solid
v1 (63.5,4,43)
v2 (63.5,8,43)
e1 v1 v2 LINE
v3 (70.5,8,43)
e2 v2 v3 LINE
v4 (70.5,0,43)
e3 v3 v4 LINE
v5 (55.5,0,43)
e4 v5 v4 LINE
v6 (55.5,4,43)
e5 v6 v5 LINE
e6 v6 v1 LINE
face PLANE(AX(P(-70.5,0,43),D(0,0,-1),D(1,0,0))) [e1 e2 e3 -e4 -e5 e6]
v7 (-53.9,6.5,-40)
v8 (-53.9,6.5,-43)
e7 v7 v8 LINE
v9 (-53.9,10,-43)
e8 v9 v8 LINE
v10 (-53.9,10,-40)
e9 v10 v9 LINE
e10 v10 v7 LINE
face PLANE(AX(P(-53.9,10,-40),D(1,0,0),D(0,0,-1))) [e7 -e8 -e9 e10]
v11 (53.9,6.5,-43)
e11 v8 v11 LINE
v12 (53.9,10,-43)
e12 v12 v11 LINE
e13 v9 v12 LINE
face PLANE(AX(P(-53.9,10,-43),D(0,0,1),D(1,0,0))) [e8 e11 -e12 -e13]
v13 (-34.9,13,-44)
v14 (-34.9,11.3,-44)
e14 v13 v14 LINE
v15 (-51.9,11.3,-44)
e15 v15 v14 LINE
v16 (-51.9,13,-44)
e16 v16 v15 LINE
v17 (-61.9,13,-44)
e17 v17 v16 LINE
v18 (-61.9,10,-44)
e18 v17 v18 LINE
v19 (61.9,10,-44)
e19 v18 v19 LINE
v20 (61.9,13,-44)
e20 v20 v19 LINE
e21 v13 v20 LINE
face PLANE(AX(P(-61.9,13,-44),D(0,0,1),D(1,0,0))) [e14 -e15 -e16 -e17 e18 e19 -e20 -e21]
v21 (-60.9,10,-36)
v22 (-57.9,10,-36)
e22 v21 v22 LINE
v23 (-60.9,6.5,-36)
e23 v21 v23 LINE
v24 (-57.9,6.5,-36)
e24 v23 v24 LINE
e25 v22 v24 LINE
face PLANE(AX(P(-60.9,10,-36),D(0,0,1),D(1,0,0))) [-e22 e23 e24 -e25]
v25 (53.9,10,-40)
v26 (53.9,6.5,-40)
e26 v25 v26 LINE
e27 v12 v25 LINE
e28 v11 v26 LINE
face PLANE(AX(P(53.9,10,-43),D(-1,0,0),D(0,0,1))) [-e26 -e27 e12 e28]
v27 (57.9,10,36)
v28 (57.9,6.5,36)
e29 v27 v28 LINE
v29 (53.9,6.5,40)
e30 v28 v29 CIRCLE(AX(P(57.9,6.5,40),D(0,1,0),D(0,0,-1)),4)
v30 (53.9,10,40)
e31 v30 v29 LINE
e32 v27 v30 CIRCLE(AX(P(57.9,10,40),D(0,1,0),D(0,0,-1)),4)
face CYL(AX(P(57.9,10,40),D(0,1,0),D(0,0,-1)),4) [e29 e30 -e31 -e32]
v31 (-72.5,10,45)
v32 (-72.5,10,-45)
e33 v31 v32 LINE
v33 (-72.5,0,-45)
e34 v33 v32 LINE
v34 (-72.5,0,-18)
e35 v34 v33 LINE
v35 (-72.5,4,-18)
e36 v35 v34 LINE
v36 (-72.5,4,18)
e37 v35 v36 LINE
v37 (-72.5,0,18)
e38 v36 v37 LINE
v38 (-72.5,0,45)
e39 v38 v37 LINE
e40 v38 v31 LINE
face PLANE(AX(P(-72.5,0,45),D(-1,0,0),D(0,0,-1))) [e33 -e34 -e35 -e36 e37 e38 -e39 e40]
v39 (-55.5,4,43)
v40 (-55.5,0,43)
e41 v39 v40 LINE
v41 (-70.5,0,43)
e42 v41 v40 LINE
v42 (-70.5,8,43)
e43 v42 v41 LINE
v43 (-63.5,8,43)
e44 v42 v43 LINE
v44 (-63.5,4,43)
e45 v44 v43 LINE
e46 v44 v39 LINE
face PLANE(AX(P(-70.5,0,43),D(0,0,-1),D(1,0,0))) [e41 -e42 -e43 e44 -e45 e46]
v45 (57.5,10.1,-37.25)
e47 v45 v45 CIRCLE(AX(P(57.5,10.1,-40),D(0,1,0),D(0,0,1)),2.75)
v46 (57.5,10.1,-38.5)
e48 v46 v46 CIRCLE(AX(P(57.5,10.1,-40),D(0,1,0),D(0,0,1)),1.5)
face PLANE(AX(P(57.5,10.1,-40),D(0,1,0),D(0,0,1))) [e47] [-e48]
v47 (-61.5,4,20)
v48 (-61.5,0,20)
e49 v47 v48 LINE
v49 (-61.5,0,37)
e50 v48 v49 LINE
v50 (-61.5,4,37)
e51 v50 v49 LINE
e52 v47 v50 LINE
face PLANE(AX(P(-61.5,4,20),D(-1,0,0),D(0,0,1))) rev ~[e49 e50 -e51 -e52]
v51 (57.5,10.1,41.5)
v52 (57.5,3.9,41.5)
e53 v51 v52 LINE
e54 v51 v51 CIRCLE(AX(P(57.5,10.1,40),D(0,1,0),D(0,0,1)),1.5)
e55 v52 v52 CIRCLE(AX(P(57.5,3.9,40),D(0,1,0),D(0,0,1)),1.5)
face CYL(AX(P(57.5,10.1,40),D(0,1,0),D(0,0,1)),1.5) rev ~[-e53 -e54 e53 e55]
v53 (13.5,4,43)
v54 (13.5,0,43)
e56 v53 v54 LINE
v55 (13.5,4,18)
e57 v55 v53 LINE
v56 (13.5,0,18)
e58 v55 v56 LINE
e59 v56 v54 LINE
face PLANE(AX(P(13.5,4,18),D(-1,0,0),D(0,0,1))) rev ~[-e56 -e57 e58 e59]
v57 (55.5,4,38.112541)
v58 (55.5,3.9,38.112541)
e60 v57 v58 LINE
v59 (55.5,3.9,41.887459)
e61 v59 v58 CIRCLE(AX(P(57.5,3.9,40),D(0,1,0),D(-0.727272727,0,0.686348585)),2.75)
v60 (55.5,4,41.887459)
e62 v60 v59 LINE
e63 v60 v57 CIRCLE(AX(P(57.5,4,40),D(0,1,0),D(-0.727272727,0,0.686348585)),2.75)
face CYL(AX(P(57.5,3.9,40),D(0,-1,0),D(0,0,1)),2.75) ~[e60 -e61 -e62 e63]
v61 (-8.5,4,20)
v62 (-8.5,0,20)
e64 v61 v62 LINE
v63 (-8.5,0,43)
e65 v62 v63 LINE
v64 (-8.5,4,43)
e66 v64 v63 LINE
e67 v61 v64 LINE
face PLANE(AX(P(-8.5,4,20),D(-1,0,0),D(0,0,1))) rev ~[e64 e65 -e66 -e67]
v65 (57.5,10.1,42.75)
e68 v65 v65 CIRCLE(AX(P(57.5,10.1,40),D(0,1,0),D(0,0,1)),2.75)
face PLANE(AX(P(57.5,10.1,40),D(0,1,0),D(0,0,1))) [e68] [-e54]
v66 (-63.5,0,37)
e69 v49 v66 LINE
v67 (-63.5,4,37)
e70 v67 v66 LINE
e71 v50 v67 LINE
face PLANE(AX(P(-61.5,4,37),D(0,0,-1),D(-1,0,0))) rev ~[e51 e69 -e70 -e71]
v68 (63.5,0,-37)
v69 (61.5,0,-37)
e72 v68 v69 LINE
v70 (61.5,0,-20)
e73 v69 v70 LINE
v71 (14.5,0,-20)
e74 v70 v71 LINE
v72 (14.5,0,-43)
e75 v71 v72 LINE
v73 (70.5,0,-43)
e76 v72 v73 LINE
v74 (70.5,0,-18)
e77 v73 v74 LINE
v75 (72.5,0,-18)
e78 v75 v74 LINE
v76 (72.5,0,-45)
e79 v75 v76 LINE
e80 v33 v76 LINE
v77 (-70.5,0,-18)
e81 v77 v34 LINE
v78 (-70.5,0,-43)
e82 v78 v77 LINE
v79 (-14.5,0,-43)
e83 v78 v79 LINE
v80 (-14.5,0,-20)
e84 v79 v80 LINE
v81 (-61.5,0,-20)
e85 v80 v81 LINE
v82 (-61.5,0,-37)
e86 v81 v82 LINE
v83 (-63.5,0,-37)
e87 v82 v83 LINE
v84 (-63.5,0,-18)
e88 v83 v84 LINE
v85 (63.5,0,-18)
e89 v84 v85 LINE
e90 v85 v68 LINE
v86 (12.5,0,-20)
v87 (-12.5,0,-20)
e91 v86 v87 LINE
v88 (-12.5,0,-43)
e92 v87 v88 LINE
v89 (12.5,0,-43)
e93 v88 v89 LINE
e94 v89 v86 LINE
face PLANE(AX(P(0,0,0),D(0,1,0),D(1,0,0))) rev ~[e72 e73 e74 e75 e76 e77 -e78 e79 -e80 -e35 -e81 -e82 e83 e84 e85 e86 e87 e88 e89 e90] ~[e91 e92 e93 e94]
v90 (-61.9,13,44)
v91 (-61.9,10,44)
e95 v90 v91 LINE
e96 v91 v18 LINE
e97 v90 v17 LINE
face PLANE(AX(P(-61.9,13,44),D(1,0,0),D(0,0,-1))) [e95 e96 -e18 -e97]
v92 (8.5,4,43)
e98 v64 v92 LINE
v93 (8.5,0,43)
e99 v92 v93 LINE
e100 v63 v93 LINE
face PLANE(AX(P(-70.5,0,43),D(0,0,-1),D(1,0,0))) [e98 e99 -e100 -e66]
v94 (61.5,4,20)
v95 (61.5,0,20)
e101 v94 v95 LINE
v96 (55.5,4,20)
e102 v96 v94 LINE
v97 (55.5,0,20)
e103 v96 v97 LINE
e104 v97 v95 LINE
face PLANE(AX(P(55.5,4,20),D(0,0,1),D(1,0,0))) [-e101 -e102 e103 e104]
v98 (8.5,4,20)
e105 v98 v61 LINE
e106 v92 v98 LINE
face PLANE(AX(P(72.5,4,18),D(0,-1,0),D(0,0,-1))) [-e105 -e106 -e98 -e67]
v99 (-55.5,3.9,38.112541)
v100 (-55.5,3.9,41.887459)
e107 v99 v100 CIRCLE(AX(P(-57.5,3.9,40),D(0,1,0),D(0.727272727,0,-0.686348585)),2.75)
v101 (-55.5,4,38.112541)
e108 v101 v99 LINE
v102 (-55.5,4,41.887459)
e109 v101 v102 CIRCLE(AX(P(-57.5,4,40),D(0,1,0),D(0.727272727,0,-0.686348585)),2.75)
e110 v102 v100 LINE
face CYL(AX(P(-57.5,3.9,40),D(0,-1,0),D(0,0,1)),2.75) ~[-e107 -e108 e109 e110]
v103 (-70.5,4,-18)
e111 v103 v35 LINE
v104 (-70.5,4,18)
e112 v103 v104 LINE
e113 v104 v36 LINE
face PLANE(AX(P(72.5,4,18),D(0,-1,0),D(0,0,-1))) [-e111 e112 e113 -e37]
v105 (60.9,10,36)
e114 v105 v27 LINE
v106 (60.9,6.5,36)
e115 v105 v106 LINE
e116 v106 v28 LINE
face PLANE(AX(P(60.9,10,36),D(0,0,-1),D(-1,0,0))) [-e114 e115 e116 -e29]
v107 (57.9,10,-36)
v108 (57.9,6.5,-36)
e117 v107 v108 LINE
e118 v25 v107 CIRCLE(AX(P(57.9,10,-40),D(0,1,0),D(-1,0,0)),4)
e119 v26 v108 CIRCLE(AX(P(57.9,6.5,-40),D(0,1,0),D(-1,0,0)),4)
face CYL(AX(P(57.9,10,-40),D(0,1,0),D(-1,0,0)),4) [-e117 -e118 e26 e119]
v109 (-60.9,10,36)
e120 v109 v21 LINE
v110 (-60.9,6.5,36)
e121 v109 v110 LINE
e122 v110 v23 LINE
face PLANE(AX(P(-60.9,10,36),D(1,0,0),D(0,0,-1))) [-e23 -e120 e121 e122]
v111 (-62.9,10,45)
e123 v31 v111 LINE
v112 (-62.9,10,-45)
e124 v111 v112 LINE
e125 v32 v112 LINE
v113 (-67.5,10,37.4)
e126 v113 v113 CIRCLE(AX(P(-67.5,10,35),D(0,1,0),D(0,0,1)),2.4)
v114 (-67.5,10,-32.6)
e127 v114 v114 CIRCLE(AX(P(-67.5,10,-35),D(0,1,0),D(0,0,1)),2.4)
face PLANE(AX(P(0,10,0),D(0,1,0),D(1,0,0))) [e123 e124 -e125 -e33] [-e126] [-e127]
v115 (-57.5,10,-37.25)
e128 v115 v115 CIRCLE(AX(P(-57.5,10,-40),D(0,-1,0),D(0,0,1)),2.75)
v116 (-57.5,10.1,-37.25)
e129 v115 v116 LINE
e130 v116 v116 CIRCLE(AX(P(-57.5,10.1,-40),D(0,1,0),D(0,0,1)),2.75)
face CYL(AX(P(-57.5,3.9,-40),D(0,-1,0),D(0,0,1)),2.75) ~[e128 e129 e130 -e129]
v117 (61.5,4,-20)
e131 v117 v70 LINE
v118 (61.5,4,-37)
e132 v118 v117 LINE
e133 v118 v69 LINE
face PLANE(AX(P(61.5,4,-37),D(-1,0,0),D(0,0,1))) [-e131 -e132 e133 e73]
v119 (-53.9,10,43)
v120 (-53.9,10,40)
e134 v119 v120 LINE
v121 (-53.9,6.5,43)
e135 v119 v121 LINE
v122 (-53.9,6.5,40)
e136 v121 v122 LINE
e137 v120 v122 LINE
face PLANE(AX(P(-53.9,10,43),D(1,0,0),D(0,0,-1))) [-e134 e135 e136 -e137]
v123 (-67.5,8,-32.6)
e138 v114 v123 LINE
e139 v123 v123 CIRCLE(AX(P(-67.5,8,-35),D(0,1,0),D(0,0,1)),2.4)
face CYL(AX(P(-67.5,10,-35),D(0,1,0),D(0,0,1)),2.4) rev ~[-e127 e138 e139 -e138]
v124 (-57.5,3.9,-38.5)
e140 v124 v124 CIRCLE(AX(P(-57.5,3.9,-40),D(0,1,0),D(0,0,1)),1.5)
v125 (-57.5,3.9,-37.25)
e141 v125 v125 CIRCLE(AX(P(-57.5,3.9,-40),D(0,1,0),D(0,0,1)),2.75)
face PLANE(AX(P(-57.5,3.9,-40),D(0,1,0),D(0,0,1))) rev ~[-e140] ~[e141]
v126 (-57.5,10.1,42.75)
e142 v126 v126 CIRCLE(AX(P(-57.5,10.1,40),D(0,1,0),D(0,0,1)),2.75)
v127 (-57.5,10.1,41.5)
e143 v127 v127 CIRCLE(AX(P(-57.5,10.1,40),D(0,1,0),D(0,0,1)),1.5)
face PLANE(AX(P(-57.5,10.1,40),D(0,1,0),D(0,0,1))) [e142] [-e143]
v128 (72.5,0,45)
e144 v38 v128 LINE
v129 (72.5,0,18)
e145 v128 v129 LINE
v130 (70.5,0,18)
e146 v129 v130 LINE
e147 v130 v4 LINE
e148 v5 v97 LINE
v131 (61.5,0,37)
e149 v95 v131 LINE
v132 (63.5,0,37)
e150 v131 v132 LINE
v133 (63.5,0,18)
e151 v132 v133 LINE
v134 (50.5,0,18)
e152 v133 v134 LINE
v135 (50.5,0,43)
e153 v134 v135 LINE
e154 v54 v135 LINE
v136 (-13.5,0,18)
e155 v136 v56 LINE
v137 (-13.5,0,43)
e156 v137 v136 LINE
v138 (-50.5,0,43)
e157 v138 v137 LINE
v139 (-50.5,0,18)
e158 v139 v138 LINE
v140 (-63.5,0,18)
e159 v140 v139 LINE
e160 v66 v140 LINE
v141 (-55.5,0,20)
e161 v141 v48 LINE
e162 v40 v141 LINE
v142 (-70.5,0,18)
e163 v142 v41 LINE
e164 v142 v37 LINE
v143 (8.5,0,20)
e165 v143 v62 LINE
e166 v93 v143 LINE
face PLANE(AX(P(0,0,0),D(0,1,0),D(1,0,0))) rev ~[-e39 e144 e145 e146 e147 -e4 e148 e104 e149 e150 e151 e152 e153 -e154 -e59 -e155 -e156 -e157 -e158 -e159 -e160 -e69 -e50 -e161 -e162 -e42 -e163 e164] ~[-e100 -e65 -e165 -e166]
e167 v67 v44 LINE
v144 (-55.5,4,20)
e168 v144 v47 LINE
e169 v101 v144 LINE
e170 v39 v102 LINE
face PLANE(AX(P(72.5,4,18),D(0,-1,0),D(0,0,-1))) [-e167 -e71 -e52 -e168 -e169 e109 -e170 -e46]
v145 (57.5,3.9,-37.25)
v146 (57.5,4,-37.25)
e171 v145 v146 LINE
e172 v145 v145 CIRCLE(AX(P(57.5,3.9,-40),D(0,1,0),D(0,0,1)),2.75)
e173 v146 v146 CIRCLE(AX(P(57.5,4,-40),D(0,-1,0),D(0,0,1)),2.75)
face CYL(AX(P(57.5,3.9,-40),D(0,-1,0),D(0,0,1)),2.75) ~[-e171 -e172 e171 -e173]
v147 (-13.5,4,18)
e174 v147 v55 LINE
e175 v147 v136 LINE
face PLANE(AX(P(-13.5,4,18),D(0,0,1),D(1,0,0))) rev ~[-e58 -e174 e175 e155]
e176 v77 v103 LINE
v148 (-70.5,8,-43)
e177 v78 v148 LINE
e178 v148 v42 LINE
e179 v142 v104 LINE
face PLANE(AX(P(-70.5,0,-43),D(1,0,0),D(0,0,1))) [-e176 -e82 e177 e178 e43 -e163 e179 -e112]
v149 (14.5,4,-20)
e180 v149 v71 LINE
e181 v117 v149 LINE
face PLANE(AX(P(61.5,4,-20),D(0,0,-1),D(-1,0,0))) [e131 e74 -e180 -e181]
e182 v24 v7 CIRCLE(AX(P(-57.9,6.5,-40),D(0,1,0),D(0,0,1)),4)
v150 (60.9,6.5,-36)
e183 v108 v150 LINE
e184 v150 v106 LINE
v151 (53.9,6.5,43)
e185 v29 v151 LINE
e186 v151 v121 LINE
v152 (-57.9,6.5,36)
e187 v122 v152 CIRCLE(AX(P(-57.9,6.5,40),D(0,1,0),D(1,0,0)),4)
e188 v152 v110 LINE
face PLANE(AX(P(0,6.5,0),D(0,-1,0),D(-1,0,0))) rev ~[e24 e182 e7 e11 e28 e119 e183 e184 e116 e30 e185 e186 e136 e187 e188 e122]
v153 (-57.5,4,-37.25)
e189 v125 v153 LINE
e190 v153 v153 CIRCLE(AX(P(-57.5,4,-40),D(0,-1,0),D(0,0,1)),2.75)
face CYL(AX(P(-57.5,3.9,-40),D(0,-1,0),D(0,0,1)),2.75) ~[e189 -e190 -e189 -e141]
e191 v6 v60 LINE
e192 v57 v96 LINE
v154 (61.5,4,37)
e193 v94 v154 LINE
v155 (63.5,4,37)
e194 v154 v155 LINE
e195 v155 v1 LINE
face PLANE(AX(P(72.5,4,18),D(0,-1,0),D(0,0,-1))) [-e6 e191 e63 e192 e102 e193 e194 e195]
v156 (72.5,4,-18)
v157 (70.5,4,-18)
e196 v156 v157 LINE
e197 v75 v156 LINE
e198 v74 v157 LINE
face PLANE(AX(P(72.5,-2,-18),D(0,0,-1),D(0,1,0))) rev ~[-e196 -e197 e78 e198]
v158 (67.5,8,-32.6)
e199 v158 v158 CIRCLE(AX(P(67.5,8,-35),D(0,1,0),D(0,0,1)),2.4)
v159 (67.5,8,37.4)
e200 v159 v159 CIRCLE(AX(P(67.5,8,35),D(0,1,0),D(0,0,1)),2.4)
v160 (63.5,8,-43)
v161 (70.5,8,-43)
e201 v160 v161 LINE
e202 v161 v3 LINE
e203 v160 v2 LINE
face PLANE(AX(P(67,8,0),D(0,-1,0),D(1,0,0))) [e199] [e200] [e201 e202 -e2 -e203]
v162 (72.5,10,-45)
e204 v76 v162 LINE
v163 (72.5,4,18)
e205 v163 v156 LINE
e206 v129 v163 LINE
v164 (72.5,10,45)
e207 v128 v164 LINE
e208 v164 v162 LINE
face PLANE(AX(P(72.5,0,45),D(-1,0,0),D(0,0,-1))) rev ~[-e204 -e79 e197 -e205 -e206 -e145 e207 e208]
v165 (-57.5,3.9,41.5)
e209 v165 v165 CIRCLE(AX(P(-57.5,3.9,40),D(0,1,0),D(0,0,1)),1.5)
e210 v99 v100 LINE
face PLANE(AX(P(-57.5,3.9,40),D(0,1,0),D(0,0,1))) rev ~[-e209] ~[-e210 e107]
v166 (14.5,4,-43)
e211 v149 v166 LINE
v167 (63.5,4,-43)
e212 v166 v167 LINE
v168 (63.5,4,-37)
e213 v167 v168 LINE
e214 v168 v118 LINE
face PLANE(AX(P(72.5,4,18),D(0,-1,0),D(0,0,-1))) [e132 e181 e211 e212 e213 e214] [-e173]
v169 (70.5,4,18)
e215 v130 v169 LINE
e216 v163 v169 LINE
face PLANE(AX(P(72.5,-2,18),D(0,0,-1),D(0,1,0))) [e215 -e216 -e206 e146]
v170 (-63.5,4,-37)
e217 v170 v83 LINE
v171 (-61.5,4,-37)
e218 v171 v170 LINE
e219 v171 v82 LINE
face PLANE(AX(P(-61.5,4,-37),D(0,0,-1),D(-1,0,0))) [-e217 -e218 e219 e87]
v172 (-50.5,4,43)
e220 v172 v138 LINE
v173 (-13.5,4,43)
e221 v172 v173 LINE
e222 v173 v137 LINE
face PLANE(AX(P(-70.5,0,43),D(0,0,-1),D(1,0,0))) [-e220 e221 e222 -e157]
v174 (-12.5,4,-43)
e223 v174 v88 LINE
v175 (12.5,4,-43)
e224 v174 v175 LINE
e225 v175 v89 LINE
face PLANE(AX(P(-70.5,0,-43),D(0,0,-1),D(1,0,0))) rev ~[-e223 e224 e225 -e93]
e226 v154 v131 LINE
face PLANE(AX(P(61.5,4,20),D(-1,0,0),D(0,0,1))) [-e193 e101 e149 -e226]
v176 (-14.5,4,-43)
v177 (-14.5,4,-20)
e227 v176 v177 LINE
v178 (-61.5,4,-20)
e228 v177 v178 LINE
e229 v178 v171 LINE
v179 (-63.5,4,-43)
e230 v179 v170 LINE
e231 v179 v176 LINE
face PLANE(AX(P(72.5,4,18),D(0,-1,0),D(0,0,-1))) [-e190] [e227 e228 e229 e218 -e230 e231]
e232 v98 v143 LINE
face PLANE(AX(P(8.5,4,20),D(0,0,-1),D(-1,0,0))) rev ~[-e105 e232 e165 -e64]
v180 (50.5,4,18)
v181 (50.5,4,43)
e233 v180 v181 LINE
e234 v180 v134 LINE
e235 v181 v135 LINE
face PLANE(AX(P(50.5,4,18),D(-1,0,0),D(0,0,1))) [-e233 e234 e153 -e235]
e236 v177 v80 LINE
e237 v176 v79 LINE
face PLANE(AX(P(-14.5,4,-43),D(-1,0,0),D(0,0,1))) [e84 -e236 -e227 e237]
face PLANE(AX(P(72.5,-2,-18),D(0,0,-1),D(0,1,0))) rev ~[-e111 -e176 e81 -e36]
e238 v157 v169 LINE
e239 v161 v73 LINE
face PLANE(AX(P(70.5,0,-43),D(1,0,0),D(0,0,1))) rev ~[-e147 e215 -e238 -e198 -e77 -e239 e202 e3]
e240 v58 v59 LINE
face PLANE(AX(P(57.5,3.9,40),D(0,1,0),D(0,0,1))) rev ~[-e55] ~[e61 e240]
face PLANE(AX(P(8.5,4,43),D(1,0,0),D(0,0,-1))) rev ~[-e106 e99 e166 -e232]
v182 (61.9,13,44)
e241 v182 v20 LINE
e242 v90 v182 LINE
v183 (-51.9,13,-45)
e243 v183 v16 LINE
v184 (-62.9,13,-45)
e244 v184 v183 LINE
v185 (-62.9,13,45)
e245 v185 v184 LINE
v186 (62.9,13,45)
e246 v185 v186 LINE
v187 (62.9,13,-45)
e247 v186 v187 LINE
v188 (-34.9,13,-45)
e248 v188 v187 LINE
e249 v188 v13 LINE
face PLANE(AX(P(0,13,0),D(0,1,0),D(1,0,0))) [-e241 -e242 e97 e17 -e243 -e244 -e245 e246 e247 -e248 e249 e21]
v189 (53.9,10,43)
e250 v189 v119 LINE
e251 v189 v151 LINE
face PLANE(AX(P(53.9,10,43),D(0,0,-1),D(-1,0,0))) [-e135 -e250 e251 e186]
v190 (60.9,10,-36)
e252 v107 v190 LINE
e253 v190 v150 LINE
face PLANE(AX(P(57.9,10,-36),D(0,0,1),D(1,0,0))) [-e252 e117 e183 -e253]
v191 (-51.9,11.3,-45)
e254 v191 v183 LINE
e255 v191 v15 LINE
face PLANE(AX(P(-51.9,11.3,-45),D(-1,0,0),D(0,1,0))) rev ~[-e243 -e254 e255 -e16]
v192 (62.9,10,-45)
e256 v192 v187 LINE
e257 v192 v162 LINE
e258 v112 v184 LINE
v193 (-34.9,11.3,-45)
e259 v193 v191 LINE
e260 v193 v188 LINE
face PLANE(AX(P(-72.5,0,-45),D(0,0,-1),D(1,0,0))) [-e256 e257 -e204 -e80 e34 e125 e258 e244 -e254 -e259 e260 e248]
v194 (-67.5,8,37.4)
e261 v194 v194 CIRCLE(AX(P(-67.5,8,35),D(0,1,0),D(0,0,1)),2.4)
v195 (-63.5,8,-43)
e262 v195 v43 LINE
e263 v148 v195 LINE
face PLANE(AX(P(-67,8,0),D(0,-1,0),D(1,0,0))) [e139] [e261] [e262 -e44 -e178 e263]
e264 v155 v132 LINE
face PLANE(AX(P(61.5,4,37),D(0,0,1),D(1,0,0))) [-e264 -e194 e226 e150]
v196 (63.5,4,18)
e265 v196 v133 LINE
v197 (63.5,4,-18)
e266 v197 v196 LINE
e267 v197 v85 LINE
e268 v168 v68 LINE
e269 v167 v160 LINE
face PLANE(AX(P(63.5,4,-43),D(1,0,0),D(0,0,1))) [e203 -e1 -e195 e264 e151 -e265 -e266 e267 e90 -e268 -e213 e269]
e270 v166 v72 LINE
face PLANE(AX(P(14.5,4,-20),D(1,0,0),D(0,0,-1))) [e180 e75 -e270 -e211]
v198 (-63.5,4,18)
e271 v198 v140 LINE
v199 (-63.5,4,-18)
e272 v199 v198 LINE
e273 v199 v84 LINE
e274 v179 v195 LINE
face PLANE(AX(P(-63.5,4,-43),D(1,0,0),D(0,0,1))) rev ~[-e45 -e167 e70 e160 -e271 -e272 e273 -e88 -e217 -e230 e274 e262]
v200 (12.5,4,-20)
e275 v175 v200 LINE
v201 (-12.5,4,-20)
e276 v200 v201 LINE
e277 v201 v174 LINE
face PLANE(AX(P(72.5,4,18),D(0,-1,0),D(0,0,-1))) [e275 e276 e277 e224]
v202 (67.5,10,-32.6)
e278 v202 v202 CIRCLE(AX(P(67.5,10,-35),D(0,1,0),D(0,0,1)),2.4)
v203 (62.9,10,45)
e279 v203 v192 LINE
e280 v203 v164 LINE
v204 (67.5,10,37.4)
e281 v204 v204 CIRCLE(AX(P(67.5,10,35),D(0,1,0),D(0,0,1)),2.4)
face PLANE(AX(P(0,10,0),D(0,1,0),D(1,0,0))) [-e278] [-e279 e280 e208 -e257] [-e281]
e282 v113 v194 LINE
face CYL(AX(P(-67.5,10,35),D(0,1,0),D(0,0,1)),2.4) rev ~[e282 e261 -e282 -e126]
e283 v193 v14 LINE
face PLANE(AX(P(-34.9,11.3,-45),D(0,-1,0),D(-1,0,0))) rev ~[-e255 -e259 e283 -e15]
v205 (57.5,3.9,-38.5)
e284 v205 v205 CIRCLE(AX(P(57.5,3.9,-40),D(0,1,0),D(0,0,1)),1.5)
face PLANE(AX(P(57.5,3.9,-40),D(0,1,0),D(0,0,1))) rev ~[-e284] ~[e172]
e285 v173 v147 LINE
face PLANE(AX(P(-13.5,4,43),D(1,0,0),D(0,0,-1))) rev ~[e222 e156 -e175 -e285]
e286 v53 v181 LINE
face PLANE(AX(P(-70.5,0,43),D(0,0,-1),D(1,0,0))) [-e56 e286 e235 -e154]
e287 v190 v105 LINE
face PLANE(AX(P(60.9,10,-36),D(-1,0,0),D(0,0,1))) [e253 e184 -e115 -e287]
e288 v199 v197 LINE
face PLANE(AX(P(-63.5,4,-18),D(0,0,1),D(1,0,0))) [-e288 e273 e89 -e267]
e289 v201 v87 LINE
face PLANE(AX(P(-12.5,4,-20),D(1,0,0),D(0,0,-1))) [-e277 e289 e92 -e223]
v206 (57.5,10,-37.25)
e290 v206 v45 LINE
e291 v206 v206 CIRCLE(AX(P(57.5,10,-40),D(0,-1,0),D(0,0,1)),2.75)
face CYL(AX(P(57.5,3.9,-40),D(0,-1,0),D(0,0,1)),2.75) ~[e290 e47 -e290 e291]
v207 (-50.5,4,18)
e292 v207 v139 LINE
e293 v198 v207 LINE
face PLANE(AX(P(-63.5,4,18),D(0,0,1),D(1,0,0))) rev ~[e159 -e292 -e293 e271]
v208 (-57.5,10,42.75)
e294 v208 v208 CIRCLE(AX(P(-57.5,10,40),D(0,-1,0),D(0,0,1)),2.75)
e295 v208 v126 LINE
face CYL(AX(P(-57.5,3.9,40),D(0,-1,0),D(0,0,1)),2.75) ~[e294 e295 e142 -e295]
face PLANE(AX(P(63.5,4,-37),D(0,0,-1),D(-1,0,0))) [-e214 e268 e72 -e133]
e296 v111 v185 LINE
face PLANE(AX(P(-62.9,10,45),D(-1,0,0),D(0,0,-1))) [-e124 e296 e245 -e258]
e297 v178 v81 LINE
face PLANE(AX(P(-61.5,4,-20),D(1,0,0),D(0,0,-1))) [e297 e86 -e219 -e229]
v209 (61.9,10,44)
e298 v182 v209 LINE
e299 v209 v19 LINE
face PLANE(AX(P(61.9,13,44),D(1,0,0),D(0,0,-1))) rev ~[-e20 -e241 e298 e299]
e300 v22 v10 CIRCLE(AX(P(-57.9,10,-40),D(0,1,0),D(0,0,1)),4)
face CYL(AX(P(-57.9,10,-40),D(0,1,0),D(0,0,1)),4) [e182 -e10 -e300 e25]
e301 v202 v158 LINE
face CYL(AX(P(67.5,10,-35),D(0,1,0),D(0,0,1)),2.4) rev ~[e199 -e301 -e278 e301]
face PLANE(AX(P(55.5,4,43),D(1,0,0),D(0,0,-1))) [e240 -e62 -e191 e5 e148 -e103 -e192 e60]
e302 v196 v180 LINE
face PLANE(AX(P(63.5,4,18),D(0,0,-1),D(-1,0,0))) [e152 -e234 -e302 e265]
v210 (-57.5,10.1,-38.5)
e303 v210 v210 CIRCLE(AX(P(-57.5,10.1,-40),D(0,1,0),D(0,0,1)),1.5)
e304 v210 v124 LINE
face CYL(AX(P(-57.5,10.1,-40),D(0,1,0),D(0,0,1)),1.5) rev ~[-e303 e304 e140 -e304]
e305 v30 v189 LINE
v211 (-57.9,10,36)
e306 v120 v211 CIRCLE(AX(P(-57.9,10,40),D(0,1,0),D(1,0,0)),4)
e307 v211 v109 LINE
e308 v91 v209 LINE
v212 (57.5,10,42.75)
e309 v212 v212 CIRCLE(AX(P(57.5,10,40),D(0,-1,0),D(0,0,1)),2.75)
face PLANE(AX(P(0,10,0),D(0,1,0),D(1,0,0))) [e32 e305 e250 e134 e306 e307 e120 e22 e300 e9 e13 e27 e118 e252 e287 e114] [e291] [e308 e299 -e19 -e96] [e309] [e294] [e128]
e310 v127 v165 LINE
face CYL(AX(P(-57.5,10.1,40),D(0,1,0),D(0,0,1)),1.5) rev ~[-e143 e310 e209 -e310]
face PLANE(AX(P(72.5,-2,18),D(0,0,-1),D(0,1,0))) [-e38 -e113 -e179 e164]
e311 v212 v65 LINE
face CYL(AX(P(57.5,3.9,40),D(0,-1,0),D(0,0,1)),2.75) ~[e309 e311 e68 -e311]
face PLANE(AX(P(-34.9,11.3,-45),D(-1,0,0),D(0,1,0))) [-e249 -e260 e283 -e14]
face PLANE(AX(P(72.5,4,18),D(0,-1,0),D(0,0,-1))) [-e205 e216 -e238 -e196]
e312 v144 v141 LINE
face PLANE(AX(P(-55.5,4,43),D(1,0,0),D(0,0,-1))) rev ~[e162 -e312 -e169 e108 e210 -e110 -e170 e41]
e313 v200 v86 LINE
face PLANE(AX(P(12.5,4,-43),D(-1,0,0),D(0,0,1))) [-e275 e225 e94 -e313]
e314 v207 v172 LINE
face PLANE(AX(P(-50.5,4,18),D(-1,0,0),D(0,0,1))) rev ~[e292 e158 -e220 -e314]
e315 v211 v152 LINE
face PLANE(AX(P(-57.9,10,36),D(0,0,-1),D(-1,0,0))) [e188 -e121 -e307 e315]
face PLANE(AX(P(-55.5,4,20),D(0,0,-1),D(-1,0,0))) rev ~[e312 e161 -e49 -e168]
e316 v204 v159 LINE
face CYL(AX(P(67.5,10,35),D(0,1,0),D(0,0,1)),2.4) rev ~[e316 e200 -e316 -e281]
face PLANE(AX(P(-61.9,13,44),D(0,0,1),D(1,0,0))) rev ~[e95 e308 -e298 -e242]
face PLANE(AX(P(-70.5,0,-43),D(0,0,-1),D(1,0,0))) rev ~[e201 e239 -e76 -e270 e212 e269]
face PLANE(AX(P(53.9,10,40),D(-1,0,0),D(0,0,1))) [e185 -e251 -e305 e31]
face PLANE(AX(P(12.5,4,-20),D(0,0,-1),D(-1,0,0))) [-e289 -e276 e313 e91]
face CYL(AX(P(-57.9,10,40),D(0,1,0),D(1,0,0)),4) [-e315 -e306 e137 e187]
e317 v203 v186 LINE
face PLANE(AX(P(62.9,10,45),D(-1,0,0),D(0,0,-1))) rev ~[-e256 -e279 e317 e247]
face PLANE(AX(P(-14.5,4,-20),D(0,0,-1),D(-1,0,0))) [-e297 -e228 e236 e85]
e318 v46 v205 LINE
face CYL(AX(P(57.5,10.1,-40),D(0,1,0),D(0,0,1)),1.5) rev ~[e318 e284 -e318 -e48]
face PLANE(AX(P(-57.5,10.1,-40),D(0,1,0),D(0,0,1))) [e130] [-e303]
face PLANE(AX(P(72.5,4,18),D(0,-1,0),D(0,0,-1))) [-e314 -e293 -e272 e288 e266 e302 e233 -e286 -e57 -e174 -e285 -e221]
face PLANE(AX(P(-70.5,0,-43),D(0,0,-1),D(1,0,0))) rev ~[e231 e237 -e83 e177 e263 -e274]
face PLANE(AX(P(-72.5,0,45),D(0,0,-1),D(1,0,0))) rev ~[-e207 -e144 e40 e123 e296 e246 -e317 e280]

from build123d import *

# Parameters (mm, degrees)
SKETCH_1_W           = 145
SKETCH_1_H           = 90
EXTRUDE_1_DEPTH      = 10
SKETCH_2_W           = 125.8
SKETCH_2_H           = 90
EXTRUDE_2_DEPTH      = 3
SKETCH_3_W           = 123.8
SKETCH_3_H           = 88
CUT_EXTRUDE_1_DEPTH  = 3
CUT_EXTRUDE_2_DEPTH  = 3.5
SKETCH_6_W           = 141
SKETCH_6_H           = 86
CUT_EXTRUDE_3_DEPTH  = 4
SKETCH_7_W           = 36
SKETCH_7_H           = 6
CUT_EXTRUDE_4_DEPTH  = 153.377819908
SKETCH_8_W           = 7
SKETCH_8_H           = 86
CUT_EXTRUDE_5_DEPTH  = 4
EXTRUDE_6_DEPTH      = 4
EXTRUDE_7_DEPTH      = 4
EXTRUDE_8_DEPTH      = 0.1
EXTRUDE_8_DEPTH_BACK = 6.1
SKETCH_16_R          = 2.75
SKETCH_17_R          = 1.5
CUT_EXTRUDE_8_DEPTH  = 86.925898308
SKETCH_18_R          = 2.4
CUT_EXTRUDE_9_DEPTH  = 86.914201387
SKETCH_19_W          = 17
SKETCH_19_H          = 2.7
CUT_EXTRUDE_10_DEPTH = 3


with BuildPart() as part:
    # Эскиз1 → Бобышка-Вытянуть1 (new body)
    with BuildSketch(Plane(origin=(0, 0, 0), x_dir=(1, 0, 0), z_dir=(0, 1, 0))):
        Rectangle(SKETCH_1_W, SKETCH_1_H)
    extrude(amount=EXTRUDE_1_DEPTH)

    # Эскиз2 → Бобышка-Вытянуть2 (add)
    with BuildSketch(Plane(origin=(0, 10, 0), x_dir=(1, 0, 0), z_dir=(0, 1, 0))):
        Rectangle(SKETCH_2_W, SKETCH_2_H)
    extrude(amount=EXTRUDE_2_DEPTH)

    # Эскиз3 → Вырез-Вытянуть1 (cut)
    with BuildSketch(Plane(origin=(0, 13, 0), x_dir=(1, 0, 0), z_dir=(0, 1, 0))):
        Rectangle(SKETCH_3_W, SKETCH_3_H)
    extrude(amount=-CUT_EXTRUDE_1_DEPTH, mode=Mode.SUBTRACT)

    # Эскиз4 → Вырез-Вытянуть2 (cut)
    with BuildSketch(Plane(origin=(0, 10, 0), x_dir=(1, 0, 0), z_dir=(0, 1, 0))):
        with BuildLine():
            Line((-53.9, 43), (53.9, 43))
            Line((53.9, 43), (53.9, 40))
            ThreePointArc((53.9, 40), (55.071572875, 37.171572875), (57.9, 36))
            Line((57.9, 36), (60.9, 36))
            Line((60.9, 36), (60.9, -36))
            Line((60.9, -36), (57.9, -36))
            ThreePointArc((57.9, -36), (55.071572875, -37.171572875), (53.9, -40))
            Line((53.9, -40), (53.9, -43))
            Line((53.9, -43), (-53.9, -43))
            Line((-53.9, -43), (-53.9, -40))
            ThreePointArc((-53.9, -40), (-55.071572875, -37.171572875), (-57.9, -36))
            Line((-57.9, -36), (-60.9, -36))
            Line((-60.9, -36), (-60.9, 36))
            Line((-60.9, 36), (-57.9, 36))
            ThreePointArc((-57.9, 36), (-55.071572875, 37.171572875), (-53.9, 40))
            Line((-53.9, 40), (-53.9, 43))
        make_face()
    extrude(amount=-CUT_EXTRUDE_2_DEPTH, mode=Mode.SUBTRACT)

    # Эскиз6 → Вырез-Вытянуть3 (cut)
    with BuildSketch(Plane.XZ):
        Rectangle(SKETCH_6_W, SKETCH_6_H)
    extrude(amount=-CUT_EXTRUDE_3_DEPTH, mode=Mode.SUBTRACT)

    # Эскиз7 → Вырез-Вытянуть4 (cut, through all)
    with BuildSketch(Plane(origin=(72.5, 0, 0), x_dir=(0, 0, -1), z_dir=(1, 0, 0))):
        with Locations((0, 1)):
            Rectangle(SKETCH_7_W, SKETCH_7_H)
    extrude(amount=-CUT_EXTRUDE_4_DEPTH, mode=Mode.SUBTRACT)

    # Эскиз8 → Вырез-Вытянуть5 (cut)
    with BuildSketch(Plane.XZ.offset(-4)):
        with Locations((-67, 0)):
            Rectangle(SKETCH_8_W, SKETCH_8_H)
        with Locations((67, 0)):
            Rectangle(SKETCH_8_W, SKETCH_8_H)
    extrude(amount=-CUT_EXTRUDE_5_DEPTH, mode=Mode.SUBTRACT)

    # Эскиз14 → Бобышка-Вытянуть6 (add)
    with BuildSketch(Plane.XZ.offset(-4)):
        Polygon((-63.5, -37), (-63.5, -18), (63.5, -18), (63.5, -37), (61.5, -37), (61.5, -20), (14.5, -20), (14.5, -43), (12.5, -43), (12.5, -20), (-12.5, -20), (-12.5, -43), (-14.5, -43), (-14.5, -20), (-61.5, -20), (-61.5, -37), align=None)
    extrude(amount=EXTRUDE_6_DEPTH)

    # Эскиз15 → Бобышка-Вытянуть7 (add)
    with BuildSketch(Plane.XZ.offset(-4)):
        Polygon((-61.5, 37), (-63.5, 37), (-63.5, 18), (-50.5, 18), (-50.5, 43), (-55.5, 43), (-55.5, 20), (-61.5, 20), align=None)
        Polygon((63.5, 37), (63.5, 18), (50.5, 18), (50.5, 43), (55.5, 43), (55.5, 20), (61.5, 20), (61.5, 37), align=None)
        Polygon((-13.5, 43), (-13.5, 18), (13.5, 18), (13.5, 43), (8.5, 43), (8.5, 20), (-8.5, 20), (-8.5, 43), align=None)
    extrude(amount=EXTRUDE_7_DEPTH)

    # Эскиз16 → Бобышка-Вытянуть8 (add, two sides: drawn at the far end of the back side and taken through both)
    with BuildSketch(Plane(origin=(0, 10, 0), x_dir=(1, 0, 0), z_dir=(0, 1, 0)).offset(-EXTRUDE_8_DEPTH_BACK)):
        with Locations(Location((-57.5, 40, 0), (0, 0, 270))):
            Circle(SKETCH_16_R)
        with Locations(Location((57.5, 40, 0), (0, 0, 270))):
            Circle(SKETCH_16_R)
        with Locations(Location((-57.5, -40, 0), (0, 0, 270))):
            Circle(SKETCH_16_R)
        with Locations(Location((57.5, -40, 0), (0, 0, 270))):
            Circle(SKETCH_16_R)
    extrude(amount=EXTRUDE_8_DEPTH + EXTRUDE_8_DEPTH_BACK)

    # Эскиз17 → Вырез-Вытянуть8 (cut, through all)
    with BuildSketch(Plane(origin=(0, 10.1, 0), x_dir=(1, 0, 0), z_dir=(0, 1, 0))):
        with Locations(Location((-57.5, 40, 0), (0, 0, 270))):
            Circle(SKETCH_17_R)
        with Locations(Location((57.5, 40, 0), (0, 0, 270))):
            Circle(SKETCH_17_R)
        with Locations(Location((-57.5, -40, 0), (0, 0, 270))):
            Circle(SKETCH_17_R)
        with Locations(Location((57.5, -40, 0), (0, 0, 270))):
            Circle(SKETCH_17_R)
    extrude(amount=-CUT_EXTRUDE_8_DEPTH, mode=Mode.SUBTRACT)

    # Эскиз18 → Вырез-Вытянуть9 (cut, through all)
    with BuildSketch(Plane(origin=(0, 10, 0), x_dir=(1, 0, 0), z_dir=(0, 1, 0))):
        with Locations(Location((-67.5, 35, 0), (0, 0, 270))):
            Circle(SKETCH_18_R)
        with Locations(Location((-67.5, -35, 0), (0, 0, 270))):
            Circle(SKETCH_18_R)
        with Locations(Location((67.5, 35, 0), (0, 0, 270))):
            Circle(SKETCH_18_R)
        with Locations(Location((67.5, -35, 0), (0, 0, 270))):
            Circle(SKETCH_18_R)
    extrude(amount=-CUT_EXTRUDE_9_DEPTH, mode=Mode.SUBTRACT)

    # Эскиз19 → Вырез-Вытянуть10 (cut)
    with BuildSketch(Plane(origin=(0, 0, -45), x_dir=(-1, 0, 0), z_dir=(0, 0, -1))):
        with Locations((43.4, 12.65)):
            Rectangle(SKETCH_19_W, SKETCH_19_H)
    extrude(amount=-CUT_EXTRUDE_10_DEPTH, mode=Mode.SUBTRACT)


solid = part.part
